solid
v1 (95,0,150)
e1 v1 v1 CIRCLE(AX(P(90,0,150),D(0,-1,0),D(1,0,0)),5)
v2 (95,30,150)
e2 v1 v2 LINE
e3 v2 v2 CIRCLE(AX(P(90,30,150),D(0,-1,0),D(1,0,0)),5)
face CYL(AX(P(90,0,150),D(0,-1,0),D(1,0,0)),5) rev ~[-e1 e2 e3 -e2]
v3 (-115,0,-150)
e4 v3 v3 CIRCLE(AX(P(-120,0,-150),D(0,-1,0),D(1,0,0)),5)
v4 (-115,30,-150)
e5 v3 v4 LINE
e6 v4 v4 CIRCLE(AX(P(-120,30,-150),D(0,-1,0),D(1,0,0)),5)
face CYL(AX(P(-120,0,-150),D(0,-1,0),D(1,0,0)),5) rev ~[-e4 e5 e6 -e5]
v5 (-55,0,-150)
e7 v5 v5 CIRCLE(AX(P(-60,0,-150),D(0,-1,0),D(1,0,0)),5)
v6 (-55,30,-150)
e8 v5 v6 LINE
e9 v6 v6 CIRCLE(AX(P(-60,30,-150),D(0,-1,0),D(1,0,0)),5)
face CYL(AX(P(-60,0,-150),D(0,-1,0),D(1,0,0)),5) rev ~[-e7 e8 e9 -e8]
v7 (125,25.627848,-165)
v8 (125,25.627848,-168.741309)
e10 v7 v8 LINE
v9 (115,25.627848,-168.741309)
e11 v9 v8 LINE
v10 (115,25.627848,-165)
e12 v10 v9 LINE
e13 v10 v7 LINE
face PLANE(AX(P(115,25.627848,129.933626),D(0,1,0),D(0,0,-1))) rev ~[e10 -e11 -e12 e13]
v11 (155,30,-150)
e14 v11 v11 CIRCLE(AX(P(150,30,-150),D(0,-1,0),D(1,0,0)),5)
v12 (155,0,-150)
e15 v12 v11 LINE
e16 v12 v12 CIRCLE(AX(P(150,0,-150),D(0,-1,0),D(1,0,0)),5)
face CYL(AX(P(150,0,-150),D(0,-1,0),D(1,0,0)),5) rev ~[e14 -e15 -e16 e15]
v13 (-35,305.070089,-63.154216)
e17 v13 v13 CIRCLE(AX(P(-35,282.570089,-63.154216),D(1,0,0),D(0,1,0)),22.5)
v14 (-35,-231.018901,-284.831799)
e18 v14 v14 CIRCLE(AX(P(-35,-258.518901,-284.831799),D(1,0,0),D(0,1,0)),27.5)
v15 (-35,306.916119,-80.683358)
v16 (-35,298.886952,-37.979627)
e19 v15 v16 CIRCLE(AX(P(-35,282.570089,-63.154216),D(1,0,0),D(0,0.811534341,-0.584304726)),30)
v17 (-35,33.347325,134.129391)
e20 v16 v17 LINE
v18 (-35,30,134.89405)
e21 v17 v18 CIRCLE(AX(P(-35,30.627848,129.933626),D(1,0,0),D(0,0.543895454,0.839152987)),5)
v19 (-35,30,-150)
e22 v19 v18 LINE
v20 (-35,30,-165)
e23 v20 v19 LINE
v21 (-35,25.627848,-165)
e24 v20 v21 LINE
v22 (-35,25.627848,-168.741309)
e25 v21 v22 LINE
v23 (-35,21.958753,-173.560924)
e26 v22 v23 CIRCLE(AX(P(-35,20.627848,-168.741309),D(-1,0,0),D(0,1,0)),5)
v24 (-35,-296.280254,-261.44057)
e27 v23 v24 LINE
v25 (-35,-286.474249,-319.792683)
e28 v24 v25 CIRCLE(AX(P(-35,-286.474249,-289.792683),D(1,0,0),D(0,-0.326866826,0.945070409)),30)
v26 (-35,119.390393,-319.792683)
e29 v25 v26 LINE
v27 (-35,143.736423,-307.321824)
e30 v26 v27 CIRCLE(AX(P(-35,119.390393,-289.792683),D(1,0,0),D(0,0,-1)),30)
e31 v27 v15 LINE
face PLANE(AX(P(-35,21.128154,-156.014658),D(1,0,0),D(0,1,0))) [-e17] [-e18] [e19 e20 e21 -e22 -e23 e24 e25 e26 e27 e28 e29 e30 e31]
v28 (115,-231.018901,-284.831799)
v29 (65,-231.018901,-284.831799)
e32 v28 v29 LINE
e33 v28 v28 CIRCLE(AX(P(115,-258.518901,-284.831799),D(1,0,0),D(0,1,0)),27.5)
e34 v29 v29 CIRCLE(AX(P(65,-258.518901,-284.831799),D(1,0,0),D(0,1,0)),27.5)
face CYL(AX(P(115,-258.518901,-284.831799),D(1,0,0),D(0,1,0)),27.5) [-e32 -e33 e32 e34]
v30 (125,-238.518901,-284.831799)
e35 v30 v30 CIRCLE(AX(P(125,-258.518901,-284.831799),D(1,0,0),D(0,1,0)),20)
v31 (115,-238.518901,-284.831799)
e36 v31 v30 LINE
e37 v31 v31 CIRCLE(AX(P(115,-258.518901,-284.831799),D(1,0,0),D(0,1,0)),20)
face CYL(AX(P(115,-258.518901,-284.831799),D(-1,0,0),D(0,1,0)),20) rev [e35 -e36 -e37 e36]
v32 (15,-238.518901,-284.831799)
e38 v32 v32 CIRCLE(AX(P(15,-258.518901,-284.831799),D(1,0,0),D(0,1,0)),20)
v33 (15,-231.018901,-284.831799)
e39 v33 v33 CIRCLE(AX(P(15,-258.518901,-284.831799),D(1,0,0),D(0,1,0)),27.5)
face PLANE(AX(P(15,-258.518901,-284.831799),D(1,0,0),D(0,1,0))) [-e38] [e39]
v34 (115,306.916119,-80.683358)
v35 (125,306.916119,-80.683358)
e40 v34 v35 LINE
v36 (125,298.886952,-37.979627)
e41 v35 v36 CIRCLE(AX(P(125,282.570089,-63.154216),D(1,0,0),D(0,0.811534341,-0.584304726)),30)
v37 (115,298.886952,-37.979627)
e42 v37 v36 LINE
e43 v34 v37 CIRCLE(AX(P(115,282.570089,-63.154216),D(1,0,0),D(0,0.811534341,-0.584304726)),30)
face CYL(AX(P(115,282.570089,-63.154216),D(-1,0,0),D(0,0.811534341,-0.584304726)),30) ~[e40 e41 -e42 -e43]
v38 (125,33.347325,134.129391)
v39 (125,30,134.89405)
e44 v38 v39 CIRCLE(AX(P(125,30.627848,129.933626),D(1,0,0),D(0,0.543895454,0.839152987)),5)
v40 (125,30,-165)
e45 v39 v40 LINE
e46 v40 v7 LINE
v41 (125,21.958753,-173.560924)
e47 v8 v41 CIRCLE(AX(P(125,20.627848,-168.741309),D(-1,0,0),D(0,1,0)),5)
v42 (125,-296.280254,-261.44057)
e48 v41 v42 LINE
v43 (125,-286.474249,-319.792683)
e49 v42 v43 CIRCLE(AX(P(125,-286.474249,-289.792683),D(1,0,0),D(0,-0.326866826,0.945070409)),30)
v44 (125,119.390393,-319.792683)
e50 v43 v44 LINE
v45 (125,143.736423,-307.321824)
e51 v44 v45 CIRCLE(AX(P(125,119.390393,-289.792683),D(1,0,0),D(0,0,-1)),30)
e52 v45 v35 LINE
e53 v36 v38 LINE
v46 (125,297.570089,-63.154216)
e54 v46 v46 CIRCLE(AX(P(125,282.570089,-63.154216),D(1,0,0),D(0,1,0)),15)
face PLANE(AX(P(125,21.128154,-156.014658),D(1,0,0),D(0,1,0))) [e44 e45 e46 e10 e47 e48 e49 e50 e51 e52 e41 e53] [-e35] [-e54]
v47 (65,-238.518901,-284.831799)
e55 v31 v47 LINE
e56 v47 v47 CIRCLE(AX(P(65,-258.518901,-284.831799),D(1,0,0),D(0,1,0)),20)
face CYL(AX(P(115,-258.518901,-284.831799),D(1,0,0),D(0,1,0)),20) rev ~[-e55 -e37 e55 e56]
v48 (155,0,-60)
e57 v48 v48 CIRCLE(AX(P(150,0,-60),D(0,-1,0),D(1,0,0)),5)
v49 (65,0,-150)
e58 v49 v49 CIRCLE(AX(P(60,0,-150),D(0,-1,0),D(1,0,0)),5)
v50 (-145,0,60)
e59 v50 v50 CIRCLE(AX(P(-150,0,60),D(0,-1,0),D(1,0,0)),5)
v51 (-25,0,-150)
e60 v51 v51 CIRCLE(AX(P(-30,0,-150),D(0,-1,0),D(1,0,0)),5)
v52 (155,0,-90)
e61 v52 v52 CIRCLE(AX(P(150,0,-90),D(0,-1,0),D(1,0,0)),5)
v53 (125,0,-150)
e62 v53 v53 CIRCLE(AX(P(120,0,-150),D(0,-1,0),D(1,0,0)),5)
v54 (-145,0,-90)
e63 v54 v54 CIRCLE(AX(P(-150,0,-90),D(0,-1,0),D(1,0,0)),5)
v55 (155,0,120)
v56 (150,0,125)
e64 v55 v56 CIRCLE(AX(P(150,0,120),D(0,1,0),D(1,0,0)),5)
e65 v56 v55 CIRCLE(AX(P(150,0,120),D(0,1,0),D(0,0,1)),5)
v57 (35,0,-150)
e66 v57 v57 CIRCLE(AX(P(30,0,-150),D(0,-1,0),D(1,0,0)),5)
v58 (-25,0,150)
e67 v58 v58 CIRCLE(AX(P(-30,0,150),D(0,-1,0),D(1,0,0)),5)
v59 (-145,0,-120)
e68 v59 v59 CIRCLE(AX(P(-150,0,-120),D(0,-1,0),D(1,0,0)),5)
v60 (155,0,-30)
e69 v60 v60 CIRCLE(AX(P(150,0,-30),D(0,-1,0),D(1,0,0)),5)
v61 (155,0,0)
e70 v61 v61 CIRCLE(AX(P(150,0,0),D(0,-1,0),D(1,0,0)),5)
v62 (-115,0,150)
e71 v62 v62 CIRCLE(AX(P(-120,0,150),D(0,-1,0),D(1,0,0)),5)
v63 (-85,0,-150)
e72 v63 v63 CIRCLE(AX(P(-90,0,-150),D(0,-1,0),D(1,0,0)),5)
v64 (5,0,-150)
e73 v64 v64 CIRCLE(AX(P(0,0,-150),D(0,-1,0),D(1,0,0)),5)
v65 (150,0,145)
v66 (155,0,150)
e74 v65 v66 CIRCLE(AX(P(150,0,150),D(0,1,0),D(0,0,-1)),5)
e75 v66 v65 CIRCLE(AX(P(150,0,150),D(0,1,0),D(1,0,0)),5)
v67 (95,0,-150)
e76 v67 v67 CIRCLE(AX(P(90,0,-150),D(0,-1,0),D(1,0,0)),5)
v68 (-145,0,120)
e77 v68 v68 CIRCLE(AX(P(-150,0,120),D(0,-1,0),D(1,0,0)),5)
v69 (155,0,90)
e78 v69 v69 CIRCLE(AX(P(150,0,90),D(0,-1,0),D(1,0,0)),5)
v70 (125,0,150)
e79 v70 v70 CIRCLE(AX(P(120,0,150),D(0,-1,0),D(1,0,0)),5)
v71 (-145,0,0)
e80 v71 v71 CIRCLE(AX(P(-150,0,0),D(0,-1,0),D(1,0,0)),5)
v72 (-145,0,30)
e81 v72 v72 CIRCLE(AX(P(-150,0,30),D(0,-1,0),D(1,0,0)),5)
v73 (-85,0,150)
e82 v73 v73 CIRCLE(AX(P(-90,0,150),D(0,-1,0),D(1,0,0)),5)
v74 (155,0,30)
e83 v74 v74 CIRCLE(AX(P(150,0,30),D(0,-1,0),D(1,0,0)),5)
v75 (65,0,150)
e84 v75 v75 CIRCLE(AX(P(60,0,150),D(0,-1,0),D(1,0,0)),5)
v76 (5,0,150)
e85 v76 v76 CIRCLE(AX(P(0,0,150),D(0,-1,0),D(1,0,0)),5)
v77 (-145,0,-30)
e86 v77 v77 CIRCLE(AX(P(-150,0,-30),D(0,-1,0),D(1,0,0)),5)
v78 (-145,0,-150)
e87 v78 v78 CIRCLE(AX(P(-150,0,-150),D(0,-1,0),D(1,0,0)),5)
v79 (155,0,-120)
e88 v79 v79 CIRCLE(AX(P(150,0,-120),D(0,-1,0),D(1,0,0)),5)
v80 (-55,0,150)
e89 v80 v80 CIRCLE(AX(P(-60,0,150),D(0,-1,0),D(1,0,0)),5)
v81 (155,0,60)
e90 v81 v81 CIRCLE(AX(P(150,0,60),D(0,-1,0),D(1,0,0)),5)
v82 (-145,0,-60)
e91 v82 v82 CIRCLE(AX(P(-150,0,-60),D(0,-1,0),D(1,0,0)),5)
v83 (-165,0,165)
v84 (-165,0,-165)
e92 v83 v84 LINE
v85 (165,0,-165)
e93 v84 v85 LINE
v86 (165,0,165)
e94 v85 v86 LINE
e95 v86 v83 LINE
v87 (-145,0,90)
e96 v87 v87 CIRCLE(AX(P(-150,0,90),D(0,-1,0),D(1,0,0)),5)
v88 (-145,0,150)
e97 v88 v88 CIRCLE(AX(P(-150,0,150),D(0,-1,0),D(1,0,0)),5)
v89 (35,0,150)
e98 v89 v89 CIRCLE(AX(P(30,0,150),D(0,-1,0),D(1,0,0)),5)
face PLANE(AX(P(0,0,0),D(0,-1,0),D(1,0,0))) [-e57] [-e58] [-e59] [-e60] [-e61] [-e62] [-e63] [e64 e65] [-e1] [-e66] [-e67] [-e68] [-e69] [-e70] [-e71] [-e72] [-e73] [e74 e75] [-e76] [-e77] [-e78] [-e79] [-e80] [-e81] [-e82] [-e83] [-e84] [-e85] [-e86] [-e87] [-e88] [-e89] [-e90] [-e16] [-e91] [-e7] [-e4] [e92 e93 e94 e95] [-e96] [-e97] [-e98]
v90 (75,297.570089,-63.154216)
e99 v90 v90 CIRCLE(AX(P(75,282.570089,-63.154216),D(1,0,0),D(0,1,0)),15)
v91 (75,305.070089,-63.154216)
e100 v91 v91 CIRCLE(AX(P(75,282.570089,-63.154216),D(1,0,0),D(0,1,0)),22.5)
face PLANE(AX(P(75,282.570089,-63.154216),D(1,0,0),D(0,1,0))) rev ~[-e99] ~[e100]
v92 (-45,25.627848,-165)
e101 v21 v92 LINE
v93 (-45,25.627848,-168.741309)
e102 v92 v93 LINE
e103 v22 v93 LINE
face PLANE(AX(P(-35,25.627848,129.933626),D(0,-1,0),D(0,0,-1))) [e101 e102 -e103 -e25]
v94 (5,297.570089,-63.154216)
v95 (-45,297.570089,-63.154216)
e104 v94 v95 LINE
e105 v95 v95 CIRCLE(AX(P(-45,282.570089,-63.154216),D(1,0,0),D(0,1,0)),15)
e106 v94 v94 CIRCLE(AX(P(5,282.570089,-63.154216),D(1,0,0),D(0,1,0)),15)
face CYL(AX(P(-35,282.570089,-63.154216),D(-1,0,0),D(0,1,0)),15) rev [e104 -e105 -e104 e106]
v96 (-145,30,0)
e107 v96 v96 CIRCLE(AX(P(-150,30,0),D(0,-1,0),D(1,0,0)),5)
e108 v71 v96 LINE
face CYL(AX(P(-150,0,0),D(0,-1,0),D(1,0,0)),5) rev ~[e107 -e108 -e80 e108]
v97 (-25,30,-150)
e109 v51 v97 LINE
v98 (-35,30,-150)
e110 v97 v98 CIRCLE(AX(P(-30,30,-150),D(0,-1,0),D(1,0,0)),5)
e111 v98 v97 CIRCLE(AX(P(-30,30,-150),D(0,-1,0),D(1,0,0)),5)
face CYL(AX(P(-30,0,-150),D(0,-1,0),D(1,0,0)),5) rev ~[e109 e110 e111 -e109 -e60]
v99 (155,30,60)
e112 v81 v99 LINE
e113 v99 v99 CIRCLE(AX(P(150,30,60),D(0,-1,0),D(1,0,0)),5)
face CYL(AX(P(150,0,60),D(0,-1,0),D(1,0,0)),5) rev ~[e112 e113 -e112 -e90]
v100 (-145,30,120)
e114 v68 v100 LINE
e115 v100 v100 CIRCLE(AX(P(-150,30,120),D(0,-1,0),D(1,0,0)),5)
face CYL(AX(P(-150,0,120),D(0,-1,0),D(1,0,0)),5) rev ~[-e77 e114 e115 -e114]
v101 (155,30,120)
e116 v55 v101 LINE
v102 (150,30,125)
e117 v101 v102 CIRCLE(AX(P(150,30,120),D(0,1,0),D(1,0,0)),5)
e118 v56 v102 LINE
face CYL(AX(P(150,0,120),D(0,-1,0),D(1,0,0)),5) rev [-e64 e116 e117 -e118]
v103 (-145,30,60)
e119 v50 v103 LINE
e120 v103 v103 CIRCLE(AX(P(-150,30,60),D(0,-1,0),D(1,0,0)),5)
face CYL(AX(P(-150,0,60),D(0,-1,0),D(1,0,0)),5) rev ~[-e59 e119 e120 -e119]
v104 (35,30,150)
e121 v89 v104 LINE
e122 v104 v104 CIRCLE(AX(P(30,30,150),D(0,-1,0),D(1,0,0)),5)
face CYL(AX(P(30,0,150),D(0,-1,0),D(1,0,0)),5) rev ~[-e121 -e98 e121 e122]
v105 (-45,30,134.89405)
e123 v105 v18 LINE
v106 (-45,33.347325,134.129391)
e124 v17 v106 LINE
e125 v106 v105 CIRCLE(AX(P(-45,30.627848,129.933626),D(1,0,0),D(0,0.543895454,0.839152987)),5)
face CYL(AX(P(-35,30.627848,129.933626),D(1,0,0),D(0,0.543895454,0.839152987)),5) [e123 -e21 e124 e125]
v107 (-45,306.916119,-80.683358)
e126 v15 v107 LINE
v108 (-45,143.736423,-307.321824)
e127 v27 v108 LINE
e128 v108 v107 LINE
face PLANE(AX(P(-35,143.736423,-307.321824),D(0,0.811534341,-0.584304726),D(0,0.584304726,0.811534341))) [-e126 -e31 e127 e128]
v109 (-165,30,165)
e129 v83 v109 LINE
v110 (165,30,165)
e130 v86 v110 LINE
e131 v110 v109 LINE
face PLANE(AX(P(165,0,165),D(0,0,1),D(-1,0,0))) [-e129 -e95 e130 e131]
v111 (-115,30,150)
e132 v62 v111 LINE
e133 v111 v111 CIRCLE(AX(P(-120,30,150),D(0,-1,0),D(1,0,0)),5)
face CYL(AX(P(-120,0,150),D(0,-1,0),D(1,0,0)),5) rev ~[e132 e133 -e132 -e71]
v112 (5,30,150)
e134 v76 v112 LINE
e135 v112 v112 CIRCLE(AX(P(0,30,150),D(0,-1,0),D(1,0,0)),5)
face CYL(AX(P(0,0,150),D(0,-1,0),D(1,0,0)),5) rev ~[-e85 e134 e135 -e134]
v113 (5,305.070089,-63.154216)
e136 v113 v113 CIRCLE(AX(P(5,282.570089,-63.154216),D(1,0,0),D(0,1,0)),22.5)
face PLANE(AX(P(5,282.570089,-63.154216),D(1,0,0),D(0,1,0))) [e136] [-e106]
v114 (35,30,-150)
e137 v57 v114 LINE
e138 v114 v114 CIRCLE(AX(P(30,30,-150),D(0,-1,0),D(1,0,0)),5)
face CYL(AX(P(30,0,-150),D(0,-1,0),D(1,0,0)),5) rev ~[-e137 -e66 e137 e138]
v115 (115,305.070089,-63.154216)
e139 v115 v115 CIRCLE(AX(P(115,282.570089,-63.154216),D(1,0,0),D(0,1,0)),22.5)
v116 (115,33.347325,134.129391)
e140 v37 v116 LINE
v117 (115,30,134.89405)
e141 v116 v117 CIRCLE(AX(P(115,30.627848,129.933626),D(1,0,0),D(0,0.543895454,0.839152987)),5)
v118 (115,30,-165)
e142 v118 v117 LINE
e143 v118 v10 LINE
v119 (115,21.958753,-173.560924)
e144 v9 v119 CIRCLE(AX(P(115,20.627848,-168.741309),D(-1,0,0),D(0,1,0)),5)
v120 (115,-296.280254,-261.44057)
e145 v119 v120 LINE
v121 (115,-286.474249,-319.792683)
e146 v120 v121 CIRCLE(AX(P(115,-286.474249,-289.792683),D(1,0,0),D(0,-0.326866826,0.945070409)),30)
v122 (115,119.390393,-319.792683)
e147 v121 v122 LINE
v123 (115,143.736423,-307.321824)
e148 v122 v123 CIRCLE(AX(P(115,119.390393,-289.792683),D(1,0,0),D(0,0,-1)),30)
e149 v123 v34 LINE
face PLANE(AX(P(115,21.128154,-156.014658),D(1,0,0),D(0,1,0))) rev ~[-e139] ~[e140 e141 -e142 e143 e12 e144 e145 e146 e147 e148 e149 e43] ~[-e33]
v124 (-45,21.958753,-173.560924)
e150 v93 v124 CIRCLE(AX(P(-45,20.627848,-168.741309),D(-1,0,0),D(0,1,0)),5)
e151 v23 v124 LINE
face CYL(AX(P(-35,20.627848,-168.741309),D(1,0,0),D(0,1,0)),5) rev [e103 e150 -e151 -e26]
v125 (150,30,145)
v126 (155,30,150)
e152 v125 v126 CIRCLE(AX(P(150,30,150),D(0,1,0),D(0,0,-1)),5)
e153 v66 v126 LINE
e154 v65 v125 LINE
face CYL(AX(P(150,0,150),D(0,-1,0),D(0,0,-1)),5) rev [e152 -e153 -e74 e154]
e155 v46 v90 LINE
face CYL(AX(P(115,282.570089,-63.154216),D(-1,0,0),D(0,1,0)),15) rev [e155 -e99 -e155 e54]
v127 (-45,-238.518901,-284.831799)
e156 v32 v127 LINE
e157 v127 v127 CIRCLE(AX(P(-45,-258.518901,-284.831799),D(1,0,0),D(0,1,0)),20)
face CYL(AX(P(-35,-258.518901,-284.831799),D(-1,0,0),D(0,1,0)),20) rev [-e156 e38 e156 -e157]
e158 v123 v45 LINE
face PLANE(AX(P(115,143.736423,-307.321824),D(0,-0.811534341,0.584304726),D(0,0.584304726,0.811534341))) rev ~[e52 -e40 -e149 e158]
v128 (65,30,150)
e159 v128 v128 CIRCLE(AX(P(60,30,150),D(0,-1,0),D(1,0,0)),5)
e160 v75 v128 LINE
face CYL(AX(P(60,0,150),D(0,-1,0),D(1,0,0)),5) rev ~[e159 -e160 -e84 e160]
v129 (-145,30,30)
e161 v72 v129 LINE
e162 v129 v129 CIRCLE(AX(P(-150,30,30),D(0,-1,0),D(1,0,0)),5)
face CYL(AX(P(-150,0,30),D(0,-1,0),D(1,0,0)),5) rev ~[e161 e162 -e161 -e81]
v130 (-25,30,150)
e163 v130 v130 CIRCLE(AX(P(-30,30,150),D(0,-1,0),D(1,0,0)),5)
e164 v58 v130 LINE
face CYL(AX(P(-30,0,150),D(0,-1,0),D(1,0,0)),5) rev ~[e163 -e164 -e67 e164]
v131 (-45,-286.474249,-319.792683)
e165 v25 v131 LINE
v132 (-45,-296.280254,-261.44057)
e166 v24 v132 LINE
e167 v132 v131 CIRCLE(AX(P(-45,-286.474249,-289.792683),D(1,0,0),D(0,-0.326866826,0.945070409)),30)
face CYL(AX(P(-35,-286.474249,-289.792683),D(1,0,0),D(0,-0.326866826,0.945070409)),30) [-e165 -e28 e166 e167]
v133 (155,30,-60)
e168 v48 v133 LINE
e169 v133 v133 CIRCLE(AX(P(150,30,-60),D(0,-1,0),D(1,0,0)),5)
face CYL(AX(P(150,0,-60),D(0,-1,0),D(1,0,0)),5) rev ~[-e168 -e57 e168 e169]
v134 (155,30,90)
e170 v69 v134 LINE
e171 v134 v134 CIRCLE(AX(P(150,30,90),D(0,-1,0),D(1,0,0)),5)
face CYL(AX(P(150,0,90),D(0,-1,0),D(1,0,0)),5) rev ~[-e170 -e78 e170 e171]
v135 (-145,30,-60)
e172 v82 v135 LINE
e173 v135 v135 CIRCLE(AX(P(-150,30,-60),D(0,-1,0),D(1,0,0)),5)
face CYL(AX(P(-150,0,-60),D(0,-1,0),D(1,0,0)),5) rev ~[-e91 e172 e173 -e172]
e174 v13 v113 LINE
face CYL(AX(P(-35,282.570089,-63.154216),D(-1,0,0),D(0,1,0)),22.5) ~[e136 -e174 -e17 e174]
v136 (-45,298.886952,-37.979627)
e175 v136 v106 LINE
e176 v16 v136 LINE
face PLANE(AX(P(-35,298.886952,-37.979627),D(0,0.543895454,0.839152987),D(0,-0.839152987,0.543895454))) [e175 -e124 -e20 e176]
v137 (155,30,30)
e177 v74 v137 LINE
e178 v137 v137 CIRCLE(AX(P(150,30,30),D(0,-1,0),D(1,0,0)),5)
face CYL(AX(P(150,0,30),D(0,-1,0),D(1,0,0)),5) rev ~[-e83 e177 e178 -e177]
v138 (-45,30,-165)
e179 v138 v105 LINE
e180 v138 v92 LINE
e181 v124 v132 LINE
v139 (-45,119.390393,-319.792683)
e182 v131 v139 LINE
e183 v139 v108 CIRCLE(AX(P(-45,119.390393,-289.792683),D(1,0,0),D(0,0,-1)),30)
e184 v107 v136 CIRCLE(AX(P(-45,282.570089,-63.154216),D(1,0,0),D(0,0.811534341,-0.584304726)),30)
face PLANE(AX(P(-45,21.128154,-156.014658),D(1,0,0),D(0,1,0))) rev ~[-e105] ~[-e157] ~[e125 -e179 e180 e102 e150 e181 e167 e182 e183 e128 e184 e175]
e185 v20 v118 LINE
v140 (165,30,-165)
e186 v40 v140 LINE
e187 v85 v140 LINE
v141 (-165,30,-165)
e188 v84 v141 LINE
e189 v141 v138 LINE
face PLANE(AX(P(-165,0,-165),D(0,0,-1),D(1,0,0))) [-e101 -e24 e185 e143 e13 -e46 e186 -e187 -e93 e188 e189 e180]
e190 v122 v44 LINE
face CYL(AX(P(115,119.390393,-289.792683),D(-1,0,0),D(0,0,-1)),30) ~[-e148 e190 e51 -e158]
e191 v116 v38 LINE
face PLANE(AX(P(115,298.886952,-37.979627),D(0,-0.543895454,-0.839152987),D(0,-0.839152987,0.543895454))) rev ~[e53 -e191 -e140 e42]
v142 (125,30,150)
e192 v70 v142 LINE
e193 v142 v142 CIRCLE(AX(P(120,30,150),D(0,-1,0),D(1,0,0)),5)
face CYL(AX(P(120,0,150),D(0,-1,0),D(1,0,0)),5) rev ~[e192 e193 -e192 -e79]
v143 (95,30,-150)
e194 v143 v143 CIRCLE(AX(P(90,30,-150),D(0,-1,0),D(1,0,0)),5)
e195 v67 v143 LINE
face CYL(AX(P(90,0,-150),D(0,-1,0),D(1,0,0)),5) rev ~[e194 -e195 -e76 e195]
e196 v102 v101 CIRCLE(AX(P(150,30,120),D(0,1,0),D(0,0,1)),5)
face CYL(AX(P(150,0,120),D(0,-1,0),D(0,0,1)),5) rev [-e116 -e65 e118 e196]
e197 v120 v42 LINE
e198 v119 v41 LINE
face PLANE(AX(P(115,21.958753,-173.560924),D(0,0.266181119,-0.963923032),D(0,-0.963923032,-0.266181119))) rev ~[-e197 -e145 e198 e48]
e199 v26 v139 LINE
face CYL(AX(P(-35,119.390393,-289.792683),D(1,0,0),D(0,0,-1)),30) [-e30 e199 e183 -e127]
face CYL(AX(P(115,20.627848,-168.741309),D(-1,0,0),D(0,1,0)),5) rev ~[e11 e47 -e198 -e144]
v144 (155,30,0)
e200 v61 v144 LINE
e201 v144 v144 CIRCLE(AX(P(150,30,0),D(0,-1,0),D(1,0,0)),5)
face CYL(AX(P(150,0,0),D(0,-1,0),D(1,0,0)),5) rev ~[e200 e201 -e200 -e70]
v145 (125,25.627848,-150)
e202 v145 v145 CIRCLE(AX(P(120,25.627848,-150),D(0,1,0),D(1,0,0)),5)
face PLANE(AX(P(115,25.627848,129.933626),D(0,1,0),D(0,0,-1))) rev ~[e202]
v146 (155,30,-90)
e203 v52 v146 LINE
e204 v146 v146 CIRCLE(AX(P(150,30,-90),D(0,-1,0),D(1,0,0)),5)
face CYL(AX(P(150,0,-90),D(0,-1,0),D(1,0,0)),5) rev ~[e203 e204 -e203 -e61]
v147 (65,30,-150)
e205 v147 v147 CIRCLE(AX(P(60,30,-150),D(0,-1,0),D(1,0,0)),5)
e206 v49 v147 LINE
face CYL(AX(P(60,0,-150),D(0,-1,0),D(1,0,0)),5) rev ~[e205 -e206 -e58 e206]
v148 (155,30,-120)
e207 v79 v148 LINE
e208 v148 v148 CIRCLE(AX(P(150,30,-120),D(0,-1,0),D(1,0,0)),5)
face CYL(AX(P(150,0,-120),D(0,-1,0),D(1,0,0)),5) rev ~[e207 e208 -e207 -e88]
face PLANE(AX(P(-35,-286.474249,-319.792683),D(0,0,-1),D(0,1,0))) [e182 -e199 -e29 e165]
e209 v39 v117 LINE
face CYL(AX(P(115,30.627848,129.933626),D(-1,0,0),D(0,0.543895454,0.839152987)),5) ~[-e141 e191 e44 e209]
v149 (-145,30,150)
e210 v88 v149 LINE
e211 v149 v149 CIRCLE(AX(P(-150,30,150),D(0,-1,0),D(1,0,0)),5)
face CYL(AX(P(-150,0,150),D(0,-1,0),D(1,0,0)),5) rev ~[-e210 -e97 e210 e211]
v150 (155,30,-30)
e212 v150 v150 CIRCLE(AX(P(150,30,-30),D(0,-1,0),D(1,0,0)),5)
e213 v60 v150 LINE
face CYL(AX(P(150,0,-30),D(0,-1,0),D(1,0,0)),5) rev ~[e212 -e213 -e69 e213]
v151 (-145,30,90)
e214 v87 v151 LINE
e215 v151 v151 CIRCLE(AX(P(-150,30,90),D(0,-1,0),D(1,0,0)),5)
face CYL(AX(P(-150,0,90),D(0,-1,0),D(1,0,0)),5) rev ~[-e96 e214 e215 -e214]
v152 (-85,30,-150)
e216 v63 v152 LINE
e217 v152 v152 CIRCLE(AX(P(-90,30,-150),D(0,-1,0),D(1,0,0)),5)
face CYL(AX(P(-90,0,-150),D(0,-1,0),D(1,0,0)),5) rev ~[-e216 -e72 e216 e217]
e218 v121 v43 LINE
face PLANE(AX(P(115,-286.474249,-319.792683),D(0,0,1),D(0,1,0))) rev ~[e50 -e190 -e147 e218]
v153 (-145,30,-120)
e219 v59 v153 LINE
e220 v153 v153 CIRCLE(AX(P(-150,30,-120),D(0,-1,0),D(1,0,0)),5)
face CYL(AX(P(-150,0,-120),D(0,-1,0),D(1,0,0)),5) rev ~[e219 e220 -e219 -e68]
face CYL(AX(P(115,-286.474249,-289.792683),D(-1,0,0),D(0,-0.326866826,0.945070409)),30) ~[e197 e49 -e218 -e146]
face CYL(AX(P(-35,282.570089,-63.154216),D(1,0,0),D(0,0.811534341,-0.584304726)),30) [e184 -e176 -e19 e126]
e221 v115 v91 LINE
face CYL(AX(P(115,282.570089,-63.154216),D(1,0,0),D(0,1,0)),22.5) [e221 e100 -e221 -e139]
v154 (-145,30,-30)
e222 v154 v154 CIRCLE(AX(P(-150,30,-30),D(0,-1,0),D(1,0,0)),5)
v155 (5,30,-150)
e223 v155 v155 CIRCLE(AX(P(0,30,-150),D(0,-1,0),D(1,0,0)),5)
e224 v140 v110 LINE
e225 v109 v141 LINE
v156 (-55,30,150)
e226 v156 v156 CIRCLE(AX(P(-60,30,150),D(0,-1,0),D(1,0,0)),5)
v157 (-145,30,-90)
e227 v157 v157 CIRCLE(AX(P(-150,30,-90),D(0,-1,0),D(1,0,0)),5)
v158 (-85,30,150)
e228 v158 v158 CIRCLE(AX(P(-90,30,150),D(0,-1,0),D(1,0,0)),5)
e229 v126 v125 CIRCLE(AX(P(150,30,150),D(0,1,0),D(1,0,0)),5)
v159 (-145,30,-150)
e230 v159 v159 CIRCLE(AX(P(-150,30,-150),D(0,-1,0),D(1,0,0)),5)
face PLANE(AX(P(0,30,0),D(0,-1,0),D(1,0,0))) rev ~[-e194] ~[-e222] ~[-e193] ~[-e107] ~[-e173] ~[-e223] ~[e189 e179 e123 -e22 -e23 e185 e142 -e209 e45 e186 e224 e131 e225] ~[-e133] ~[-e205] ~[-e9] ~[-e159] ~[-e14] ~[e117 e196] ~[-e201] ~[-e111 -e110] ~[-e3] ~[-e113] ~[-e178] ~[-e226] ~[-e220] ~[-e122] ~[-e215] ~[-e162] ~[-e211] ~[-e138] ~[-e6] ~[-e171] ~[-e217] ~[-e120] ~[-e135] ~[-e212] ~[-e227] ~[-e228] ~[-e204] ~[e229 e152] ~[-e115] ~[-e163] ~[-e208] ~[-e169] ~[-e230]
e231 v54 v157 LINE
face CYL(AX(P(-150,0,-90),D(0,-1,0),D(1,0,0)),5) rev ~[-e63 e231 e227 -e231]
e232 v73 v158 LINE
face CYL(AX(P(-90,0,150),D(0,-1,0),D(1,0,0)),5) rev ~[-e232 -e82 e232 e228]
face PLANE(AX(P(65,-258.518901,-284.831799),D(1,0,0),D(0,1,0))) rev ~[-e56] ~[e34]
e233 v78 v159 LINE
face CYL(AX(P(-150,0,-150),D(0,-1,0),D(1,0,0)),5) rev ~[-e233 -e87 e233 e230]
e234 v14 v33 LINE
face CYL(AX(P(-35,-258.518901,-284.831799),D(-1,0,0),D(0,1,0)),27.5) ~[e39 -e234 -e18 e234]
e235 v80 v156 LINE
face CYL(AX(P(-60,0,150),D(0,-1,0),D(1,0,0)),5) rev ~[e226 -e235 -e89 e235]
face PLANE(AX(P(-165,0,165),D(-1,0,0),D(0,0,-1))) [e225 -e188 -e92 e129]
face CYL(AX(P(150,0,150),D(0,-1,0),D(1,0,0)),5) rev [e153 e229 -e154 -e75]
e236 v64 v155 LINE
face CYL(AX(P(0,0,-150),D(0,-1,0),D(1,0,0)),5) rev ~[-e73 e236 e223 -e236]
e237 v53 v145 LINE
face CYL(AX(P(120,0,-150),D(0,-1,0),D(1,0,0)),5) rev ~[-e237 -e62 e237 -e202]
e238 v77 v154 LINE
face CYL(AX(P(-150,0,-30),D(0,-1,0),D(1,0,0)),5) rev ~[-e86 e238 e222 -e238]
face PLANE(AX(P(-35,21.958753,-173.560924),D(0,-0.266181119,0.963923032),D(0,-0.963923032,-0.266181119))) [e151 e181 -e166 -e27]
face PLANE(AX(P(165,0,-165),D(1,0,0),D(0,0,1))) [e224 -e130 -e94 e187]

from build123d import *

# Parameters (mm, degrees)
F0_R      = 5
F0_W      = 270
F0_H      = 270
F1_DEPTH  = 30
F4_R      = 20
F4_R_2    = 22.5
F4_R_3    = 15
F5_DEPTH  = 10
F7_R      = 20
F7_R_2    = 22.5
F7_R_3    = 15
F8_DEPTH  = 10
F9_DEPTH  = 40
F10_DEPTH = 40
F13_R     = 27.5
F13_R_2   = 20
F14_DEPTH = 50
F15_R     = 27.5
F15_R_2   = 20
F16_DEPTH = 50


with BuildPart() as f1:
    # F0 (on Front) → F1 (new body)
    with BuildSketch(Plane.XZ):
        Polygon((-165, -165), (-135, -165), (75, -165), (165, -165), (165, 165), (-165, 165), align=None)
        with Locations((-150, -150)):
            Circle(F0_R, mode=Mode.SUBTRACT)
        with Locations((-150, -120)):
            Circle(F0_R, mode=Mode.SUBTRACT)
        with Locations((-120, -150)):
            Circle(F0_R, mode=Mode.SUBTRACT)
        with Locations((-90, -150)):
            Circle(F0_R, mode=Mode.SUBTRACT)
        with Locations((-60, -150)):
            Circle(F0_R, mode=Mode.SUBTRACT)
        with Locations((-30, -150)):
            Circle(F0_R, mode=Mode.SUBTRACT)
        with Locations((0, -150)):
            Circle(F0_R, mode=Mode.SUBTRACT)
        with Locations((30, -150)):
            Circle(F0_R, mode=Mode.SUBTRACT)
        with Locations((60, -150)):
            Circle(F0_R, mode=Mode.SUBTRACT)
        with Locations((90, -150)):
            Circle(F0_R, mode=Mode.SUBTRACT)
        with Locations((120, -150)):
            Circle(F0_R, mode=Mode.SUBTRACT)
        with Locations((150, -150)):
            Circle(F0_R, mode=Mode.SUBTRACT)
        with Locations((150, -120)):
            Circle(F0_R, mode=Mode.SUBTRACT)
        with Locations((-150, -90)):
            Circle(F0_R, mode=Mode.SUBTRACT)
        with Locations((-150, -60)):
            Circle(F0_R, mode=Mode.SUBTRACT)
        with Locations((-150, -30)):
            Circle(F0_R, mode=Mode.SUBTRACT)
        with Locations((-150, 0)):
            Circle(F0_R, mode=Mode.SUBTRACT)
        with Locations((-150, 30)):
            Circle(F0_R, mode=Mode.SUBTRACT)
        with Locations((-150, 60)):
            Circle(F0_R, mode=Mode.SUBTRACT)
        with Locations((-150, 90)):
            Circle(F0_R, mode=Mode.SUBTRACT)
        with Locations((-150, 120)):
            Circle(F0_R, mode=Mode.SUBTRACT)
        with Locations((-150, 150)):
            Circle(F0_R, mode=Mode.SUBTRACT)
        with Locations((-120, 150)):
            Circle(F0_R, mode=Mode.SUBTRACT)
        with Locations((-90, 150)):
            Circle(F0_R, mode=Mode.SUBTRACT)
        with Locations((-60, 150)):
            Circle(F0_R, mode=Mode.SUBTRACT)
        with Locations((-30, 150)):
            Circle(F0_R, mode=Mode.SUBTRACT)
        Rectangle(F0_W, F0_H, mode=Mode.SUBTRACT)
        with Locations((150, -90)):
            Circle(F0_R, mode=Mode.SUBTRACT)
        with Locations((150, -60)):
            Circle(F0_R, mode=Mode.SUBTRACT)
        with Locations((150, -30)):
            Circle(F0_R, mode=Mode.SUBTRACT)
        with Locations((150, 0)):
            Circle(F0_R, mode=Mode.SUBTRACT)
        with Locations((150, 30)):
            Circle(F0_R, mode=Mode.SUBTRACT)
        with Locations((0, 150)):
            Circle(F0_R, mode=Mode.SUBTRACT)
        with Locations((30, 150)):
            Circle(F0_R, mode=Mode.SUBTRACT)
        with Locations((60, 150)):
            Circle(F0_R, mode=Mode.SUBTRACT)
        with Locations((150, 60)):
            Circle(F0_R, mode=Mode.SUBTRACT)
        with Locations((150, 90)):
            Circle(F0_R, mode=Mode.SUBTRACT)
        with Locations((90, 150)):
            Circle(F0_R, mode=Mode.SUBTRACT)
        with Locations((120, 150)):
            Circle(F0_R, mode=Mode.SUBTRACT)
        with BuildLine():
            ThreePointArc((155, 120), (146.4644660941, 116.4644660941), (150, 125))
            ThreePointArc((150, 125), (153.5355339059, 123.5355339059), (155, 120))
        make_face(mode=Mode.SUBTRACT)
        with BuildLine():
            ThreePointArc((155, 150), (153.5355339059, 146.4644660941), (150, 145))
            ThreePointArc((150, 145), (146.4644660941, 153.5355339059), (155, 150))
        make_face(mode=Mode.SUBTRACT)
        Rectangle(F0_W, F0_H)
    extrude(amount=-F1_DEPTH)

    # F4 (on offset) → F5 (join)
    with BuildSketch(Plane.YZ.offset(115)):
        with BuildLine():
            Line((298.8869523608, -37.9796266225), (33.3473250322, 134.1293910905))
            ThreePointArc((33.3473250322, 134.1293910905), (28.2401068156, 134.3266539493), (25.6278477609, 129.9336261577))
            Line((25.6278477609, 129.9336261577), (25.6278477609, -168.7413089787))
            ThreePointArc((25.6278477609, -168.7413089787), (24.6061971658, -171.7699614864), (21.9587533559, -173.5609241394))
            Line((21.9587533559, -173.5609241394), (-296.2802540275, -261.4405704084))
            ThreePointArc((-296.2802540275, -261.4405704084), (-316.0594091243, -294.7644344742), (-286.4742492609, -319.7926826845))
            Line((-286.4742492609, -319.7926826845), (119.3903928782, -319.7926826845))
            ThreePointArc((119.3903928782, -319.7926826845), (133.0674858943, -316.4935651911), (143.7364231218, -307.3218244599))
            Line((143.7364231218, -307.3218244599), (306.9161189768, -80.6833579945))
            ThreePointArc((306.9161189768, -80.6833579945), (312.0534722359, -57.6107428284), (298.8869523608, -37.9796266225))
        make_face()
        with Locations((-258.5189006871, -284.8317994661)):
            Circle(F4_R, mode=Mode.SUBTRACT)
        with Locations((282.5700887333, -63.1542162192)):
            Circle(F4_R_2, mode=Mode.SUBTRACT)
        with Locations((282.5700887333, -63.1542162192)):
            Circle(F4_R_2)
        with Locations((282.5700887333, -63.1542162192)):
            Circle(F4_R_3, mode=Mode.SUBTRACT)
    extrude(amount=F5_DEPTH)

    # F7 (on offset) → F8 (join)
    with BuildSketch(Plane.YZ.offset(-35)):
        with BuildLine():
            ThreePointArc((33.3473250322, 134.1293910905), (28.2401068156, 134.3266539493), (25.6278477609, 129.9336261577))
            Line((25.6278477609, 129.9336261577), (25.6278477609, -168.7413089787))
            ThreePointArc((25.6278477609, -168.7413089787), (24.6061971658, -171.7699614864), (21.9587533559, -173.5609241394))
            Line((21.9587533559, -173.5609241394), (-296.2802540275, -261.4405704084))
            ThreePointArc((-296.2802540275, -261.4405704084), (-316.0594091243, -294.7644344742), (-286.4742492609, -319.7926826845))
            Line((-286.4742492609, -319.7926826845), (119.3903928782, -319.7926826845))
            ThreePointArc((119.3903928782, -319.7926826845), (133.0674858943, -316.4935651911), (143.7364231218, -307.3218244599))
            Line((143.7364231218, -307.3218244599), (306.9161189768, -80.6833579945))
            ThreePointArc((306.9161189768, -80.6833579945), (312.0534722359, -57.6107428284), (298.8869523608, -37.9796266225))
            Line((298.8869523608, -37.9796266225), (33.3473250322, 134.1293910905))
        make_face()
        with Locations((-258.5189006871, -284.8317994661)):
            Circle(F7_R, mode=Mode.SUBTRACT)
        with Locations((282.5700887333, -63.1542162192)):
            Circle(F7_R_2, mode=Mode.SUBTRACT)
        with Locations((282.5700887333, -63.1542162192)):
            Circle(F7_R_2)
        with Locations((282.5700887333, -63.1542162192)):
            Circle(F7_R_3, mode=Mode.SUBTRACT)
    extrude(amount=-F8_DEPTH)

    # F7 (on offset) → F9 (join)
    with BuildSketch(Plane.YZ.offset(-35)):
        with Locations((282.5700887333, -63.1542162192)):
            Circle(F7_R_2)
        with Locations((282.5700887333, -63.1542162192)):
            Circle(F7_R_3, mode=Mode.SUBTRACT)
    extrude(amount=F9_DEPTH)

    # F4 (on offset) → F10 (join)
    with BuildSketch(Plane.YZ.offset(115)):
        with Locations((282.5700887333, -63.1542162192)):
            Circle(F4_R_2)
        with Locations((282.5700887333, -63.1542162192)):
            Circle(F4_R_3, mode=Mode.SUBTRACT)
    extrude(amount=-F10_DEPTH)

    # F13 (on face) → F14 (join)
    with BuildSketch(Plane.YZ.offset(-35)):
        with Locations((-258.5189006871, -284.8317994661)):
            Circle(F13_R)
        with Locations((-258.5189006871, -284.8317994661)):
            Circle(F13_R_2, mode=Mode.SUBTRACT)
    extrude(amount=F14_DEPTH)

    # F15 (on face) → F16 (join)
    with BuildSketch(Plane.YZ.offset(115)):
        with Locations((-258.5189006871, -284.8317994661)):
            Circle(F15_R)
        with Locations((-258.5189006871, -284.8317994661)):
            Circle(F15_R_2, mode=Mode.SUBTRACT)
    extrude(amount=-F16_DEPTH)


solid = f1.part
